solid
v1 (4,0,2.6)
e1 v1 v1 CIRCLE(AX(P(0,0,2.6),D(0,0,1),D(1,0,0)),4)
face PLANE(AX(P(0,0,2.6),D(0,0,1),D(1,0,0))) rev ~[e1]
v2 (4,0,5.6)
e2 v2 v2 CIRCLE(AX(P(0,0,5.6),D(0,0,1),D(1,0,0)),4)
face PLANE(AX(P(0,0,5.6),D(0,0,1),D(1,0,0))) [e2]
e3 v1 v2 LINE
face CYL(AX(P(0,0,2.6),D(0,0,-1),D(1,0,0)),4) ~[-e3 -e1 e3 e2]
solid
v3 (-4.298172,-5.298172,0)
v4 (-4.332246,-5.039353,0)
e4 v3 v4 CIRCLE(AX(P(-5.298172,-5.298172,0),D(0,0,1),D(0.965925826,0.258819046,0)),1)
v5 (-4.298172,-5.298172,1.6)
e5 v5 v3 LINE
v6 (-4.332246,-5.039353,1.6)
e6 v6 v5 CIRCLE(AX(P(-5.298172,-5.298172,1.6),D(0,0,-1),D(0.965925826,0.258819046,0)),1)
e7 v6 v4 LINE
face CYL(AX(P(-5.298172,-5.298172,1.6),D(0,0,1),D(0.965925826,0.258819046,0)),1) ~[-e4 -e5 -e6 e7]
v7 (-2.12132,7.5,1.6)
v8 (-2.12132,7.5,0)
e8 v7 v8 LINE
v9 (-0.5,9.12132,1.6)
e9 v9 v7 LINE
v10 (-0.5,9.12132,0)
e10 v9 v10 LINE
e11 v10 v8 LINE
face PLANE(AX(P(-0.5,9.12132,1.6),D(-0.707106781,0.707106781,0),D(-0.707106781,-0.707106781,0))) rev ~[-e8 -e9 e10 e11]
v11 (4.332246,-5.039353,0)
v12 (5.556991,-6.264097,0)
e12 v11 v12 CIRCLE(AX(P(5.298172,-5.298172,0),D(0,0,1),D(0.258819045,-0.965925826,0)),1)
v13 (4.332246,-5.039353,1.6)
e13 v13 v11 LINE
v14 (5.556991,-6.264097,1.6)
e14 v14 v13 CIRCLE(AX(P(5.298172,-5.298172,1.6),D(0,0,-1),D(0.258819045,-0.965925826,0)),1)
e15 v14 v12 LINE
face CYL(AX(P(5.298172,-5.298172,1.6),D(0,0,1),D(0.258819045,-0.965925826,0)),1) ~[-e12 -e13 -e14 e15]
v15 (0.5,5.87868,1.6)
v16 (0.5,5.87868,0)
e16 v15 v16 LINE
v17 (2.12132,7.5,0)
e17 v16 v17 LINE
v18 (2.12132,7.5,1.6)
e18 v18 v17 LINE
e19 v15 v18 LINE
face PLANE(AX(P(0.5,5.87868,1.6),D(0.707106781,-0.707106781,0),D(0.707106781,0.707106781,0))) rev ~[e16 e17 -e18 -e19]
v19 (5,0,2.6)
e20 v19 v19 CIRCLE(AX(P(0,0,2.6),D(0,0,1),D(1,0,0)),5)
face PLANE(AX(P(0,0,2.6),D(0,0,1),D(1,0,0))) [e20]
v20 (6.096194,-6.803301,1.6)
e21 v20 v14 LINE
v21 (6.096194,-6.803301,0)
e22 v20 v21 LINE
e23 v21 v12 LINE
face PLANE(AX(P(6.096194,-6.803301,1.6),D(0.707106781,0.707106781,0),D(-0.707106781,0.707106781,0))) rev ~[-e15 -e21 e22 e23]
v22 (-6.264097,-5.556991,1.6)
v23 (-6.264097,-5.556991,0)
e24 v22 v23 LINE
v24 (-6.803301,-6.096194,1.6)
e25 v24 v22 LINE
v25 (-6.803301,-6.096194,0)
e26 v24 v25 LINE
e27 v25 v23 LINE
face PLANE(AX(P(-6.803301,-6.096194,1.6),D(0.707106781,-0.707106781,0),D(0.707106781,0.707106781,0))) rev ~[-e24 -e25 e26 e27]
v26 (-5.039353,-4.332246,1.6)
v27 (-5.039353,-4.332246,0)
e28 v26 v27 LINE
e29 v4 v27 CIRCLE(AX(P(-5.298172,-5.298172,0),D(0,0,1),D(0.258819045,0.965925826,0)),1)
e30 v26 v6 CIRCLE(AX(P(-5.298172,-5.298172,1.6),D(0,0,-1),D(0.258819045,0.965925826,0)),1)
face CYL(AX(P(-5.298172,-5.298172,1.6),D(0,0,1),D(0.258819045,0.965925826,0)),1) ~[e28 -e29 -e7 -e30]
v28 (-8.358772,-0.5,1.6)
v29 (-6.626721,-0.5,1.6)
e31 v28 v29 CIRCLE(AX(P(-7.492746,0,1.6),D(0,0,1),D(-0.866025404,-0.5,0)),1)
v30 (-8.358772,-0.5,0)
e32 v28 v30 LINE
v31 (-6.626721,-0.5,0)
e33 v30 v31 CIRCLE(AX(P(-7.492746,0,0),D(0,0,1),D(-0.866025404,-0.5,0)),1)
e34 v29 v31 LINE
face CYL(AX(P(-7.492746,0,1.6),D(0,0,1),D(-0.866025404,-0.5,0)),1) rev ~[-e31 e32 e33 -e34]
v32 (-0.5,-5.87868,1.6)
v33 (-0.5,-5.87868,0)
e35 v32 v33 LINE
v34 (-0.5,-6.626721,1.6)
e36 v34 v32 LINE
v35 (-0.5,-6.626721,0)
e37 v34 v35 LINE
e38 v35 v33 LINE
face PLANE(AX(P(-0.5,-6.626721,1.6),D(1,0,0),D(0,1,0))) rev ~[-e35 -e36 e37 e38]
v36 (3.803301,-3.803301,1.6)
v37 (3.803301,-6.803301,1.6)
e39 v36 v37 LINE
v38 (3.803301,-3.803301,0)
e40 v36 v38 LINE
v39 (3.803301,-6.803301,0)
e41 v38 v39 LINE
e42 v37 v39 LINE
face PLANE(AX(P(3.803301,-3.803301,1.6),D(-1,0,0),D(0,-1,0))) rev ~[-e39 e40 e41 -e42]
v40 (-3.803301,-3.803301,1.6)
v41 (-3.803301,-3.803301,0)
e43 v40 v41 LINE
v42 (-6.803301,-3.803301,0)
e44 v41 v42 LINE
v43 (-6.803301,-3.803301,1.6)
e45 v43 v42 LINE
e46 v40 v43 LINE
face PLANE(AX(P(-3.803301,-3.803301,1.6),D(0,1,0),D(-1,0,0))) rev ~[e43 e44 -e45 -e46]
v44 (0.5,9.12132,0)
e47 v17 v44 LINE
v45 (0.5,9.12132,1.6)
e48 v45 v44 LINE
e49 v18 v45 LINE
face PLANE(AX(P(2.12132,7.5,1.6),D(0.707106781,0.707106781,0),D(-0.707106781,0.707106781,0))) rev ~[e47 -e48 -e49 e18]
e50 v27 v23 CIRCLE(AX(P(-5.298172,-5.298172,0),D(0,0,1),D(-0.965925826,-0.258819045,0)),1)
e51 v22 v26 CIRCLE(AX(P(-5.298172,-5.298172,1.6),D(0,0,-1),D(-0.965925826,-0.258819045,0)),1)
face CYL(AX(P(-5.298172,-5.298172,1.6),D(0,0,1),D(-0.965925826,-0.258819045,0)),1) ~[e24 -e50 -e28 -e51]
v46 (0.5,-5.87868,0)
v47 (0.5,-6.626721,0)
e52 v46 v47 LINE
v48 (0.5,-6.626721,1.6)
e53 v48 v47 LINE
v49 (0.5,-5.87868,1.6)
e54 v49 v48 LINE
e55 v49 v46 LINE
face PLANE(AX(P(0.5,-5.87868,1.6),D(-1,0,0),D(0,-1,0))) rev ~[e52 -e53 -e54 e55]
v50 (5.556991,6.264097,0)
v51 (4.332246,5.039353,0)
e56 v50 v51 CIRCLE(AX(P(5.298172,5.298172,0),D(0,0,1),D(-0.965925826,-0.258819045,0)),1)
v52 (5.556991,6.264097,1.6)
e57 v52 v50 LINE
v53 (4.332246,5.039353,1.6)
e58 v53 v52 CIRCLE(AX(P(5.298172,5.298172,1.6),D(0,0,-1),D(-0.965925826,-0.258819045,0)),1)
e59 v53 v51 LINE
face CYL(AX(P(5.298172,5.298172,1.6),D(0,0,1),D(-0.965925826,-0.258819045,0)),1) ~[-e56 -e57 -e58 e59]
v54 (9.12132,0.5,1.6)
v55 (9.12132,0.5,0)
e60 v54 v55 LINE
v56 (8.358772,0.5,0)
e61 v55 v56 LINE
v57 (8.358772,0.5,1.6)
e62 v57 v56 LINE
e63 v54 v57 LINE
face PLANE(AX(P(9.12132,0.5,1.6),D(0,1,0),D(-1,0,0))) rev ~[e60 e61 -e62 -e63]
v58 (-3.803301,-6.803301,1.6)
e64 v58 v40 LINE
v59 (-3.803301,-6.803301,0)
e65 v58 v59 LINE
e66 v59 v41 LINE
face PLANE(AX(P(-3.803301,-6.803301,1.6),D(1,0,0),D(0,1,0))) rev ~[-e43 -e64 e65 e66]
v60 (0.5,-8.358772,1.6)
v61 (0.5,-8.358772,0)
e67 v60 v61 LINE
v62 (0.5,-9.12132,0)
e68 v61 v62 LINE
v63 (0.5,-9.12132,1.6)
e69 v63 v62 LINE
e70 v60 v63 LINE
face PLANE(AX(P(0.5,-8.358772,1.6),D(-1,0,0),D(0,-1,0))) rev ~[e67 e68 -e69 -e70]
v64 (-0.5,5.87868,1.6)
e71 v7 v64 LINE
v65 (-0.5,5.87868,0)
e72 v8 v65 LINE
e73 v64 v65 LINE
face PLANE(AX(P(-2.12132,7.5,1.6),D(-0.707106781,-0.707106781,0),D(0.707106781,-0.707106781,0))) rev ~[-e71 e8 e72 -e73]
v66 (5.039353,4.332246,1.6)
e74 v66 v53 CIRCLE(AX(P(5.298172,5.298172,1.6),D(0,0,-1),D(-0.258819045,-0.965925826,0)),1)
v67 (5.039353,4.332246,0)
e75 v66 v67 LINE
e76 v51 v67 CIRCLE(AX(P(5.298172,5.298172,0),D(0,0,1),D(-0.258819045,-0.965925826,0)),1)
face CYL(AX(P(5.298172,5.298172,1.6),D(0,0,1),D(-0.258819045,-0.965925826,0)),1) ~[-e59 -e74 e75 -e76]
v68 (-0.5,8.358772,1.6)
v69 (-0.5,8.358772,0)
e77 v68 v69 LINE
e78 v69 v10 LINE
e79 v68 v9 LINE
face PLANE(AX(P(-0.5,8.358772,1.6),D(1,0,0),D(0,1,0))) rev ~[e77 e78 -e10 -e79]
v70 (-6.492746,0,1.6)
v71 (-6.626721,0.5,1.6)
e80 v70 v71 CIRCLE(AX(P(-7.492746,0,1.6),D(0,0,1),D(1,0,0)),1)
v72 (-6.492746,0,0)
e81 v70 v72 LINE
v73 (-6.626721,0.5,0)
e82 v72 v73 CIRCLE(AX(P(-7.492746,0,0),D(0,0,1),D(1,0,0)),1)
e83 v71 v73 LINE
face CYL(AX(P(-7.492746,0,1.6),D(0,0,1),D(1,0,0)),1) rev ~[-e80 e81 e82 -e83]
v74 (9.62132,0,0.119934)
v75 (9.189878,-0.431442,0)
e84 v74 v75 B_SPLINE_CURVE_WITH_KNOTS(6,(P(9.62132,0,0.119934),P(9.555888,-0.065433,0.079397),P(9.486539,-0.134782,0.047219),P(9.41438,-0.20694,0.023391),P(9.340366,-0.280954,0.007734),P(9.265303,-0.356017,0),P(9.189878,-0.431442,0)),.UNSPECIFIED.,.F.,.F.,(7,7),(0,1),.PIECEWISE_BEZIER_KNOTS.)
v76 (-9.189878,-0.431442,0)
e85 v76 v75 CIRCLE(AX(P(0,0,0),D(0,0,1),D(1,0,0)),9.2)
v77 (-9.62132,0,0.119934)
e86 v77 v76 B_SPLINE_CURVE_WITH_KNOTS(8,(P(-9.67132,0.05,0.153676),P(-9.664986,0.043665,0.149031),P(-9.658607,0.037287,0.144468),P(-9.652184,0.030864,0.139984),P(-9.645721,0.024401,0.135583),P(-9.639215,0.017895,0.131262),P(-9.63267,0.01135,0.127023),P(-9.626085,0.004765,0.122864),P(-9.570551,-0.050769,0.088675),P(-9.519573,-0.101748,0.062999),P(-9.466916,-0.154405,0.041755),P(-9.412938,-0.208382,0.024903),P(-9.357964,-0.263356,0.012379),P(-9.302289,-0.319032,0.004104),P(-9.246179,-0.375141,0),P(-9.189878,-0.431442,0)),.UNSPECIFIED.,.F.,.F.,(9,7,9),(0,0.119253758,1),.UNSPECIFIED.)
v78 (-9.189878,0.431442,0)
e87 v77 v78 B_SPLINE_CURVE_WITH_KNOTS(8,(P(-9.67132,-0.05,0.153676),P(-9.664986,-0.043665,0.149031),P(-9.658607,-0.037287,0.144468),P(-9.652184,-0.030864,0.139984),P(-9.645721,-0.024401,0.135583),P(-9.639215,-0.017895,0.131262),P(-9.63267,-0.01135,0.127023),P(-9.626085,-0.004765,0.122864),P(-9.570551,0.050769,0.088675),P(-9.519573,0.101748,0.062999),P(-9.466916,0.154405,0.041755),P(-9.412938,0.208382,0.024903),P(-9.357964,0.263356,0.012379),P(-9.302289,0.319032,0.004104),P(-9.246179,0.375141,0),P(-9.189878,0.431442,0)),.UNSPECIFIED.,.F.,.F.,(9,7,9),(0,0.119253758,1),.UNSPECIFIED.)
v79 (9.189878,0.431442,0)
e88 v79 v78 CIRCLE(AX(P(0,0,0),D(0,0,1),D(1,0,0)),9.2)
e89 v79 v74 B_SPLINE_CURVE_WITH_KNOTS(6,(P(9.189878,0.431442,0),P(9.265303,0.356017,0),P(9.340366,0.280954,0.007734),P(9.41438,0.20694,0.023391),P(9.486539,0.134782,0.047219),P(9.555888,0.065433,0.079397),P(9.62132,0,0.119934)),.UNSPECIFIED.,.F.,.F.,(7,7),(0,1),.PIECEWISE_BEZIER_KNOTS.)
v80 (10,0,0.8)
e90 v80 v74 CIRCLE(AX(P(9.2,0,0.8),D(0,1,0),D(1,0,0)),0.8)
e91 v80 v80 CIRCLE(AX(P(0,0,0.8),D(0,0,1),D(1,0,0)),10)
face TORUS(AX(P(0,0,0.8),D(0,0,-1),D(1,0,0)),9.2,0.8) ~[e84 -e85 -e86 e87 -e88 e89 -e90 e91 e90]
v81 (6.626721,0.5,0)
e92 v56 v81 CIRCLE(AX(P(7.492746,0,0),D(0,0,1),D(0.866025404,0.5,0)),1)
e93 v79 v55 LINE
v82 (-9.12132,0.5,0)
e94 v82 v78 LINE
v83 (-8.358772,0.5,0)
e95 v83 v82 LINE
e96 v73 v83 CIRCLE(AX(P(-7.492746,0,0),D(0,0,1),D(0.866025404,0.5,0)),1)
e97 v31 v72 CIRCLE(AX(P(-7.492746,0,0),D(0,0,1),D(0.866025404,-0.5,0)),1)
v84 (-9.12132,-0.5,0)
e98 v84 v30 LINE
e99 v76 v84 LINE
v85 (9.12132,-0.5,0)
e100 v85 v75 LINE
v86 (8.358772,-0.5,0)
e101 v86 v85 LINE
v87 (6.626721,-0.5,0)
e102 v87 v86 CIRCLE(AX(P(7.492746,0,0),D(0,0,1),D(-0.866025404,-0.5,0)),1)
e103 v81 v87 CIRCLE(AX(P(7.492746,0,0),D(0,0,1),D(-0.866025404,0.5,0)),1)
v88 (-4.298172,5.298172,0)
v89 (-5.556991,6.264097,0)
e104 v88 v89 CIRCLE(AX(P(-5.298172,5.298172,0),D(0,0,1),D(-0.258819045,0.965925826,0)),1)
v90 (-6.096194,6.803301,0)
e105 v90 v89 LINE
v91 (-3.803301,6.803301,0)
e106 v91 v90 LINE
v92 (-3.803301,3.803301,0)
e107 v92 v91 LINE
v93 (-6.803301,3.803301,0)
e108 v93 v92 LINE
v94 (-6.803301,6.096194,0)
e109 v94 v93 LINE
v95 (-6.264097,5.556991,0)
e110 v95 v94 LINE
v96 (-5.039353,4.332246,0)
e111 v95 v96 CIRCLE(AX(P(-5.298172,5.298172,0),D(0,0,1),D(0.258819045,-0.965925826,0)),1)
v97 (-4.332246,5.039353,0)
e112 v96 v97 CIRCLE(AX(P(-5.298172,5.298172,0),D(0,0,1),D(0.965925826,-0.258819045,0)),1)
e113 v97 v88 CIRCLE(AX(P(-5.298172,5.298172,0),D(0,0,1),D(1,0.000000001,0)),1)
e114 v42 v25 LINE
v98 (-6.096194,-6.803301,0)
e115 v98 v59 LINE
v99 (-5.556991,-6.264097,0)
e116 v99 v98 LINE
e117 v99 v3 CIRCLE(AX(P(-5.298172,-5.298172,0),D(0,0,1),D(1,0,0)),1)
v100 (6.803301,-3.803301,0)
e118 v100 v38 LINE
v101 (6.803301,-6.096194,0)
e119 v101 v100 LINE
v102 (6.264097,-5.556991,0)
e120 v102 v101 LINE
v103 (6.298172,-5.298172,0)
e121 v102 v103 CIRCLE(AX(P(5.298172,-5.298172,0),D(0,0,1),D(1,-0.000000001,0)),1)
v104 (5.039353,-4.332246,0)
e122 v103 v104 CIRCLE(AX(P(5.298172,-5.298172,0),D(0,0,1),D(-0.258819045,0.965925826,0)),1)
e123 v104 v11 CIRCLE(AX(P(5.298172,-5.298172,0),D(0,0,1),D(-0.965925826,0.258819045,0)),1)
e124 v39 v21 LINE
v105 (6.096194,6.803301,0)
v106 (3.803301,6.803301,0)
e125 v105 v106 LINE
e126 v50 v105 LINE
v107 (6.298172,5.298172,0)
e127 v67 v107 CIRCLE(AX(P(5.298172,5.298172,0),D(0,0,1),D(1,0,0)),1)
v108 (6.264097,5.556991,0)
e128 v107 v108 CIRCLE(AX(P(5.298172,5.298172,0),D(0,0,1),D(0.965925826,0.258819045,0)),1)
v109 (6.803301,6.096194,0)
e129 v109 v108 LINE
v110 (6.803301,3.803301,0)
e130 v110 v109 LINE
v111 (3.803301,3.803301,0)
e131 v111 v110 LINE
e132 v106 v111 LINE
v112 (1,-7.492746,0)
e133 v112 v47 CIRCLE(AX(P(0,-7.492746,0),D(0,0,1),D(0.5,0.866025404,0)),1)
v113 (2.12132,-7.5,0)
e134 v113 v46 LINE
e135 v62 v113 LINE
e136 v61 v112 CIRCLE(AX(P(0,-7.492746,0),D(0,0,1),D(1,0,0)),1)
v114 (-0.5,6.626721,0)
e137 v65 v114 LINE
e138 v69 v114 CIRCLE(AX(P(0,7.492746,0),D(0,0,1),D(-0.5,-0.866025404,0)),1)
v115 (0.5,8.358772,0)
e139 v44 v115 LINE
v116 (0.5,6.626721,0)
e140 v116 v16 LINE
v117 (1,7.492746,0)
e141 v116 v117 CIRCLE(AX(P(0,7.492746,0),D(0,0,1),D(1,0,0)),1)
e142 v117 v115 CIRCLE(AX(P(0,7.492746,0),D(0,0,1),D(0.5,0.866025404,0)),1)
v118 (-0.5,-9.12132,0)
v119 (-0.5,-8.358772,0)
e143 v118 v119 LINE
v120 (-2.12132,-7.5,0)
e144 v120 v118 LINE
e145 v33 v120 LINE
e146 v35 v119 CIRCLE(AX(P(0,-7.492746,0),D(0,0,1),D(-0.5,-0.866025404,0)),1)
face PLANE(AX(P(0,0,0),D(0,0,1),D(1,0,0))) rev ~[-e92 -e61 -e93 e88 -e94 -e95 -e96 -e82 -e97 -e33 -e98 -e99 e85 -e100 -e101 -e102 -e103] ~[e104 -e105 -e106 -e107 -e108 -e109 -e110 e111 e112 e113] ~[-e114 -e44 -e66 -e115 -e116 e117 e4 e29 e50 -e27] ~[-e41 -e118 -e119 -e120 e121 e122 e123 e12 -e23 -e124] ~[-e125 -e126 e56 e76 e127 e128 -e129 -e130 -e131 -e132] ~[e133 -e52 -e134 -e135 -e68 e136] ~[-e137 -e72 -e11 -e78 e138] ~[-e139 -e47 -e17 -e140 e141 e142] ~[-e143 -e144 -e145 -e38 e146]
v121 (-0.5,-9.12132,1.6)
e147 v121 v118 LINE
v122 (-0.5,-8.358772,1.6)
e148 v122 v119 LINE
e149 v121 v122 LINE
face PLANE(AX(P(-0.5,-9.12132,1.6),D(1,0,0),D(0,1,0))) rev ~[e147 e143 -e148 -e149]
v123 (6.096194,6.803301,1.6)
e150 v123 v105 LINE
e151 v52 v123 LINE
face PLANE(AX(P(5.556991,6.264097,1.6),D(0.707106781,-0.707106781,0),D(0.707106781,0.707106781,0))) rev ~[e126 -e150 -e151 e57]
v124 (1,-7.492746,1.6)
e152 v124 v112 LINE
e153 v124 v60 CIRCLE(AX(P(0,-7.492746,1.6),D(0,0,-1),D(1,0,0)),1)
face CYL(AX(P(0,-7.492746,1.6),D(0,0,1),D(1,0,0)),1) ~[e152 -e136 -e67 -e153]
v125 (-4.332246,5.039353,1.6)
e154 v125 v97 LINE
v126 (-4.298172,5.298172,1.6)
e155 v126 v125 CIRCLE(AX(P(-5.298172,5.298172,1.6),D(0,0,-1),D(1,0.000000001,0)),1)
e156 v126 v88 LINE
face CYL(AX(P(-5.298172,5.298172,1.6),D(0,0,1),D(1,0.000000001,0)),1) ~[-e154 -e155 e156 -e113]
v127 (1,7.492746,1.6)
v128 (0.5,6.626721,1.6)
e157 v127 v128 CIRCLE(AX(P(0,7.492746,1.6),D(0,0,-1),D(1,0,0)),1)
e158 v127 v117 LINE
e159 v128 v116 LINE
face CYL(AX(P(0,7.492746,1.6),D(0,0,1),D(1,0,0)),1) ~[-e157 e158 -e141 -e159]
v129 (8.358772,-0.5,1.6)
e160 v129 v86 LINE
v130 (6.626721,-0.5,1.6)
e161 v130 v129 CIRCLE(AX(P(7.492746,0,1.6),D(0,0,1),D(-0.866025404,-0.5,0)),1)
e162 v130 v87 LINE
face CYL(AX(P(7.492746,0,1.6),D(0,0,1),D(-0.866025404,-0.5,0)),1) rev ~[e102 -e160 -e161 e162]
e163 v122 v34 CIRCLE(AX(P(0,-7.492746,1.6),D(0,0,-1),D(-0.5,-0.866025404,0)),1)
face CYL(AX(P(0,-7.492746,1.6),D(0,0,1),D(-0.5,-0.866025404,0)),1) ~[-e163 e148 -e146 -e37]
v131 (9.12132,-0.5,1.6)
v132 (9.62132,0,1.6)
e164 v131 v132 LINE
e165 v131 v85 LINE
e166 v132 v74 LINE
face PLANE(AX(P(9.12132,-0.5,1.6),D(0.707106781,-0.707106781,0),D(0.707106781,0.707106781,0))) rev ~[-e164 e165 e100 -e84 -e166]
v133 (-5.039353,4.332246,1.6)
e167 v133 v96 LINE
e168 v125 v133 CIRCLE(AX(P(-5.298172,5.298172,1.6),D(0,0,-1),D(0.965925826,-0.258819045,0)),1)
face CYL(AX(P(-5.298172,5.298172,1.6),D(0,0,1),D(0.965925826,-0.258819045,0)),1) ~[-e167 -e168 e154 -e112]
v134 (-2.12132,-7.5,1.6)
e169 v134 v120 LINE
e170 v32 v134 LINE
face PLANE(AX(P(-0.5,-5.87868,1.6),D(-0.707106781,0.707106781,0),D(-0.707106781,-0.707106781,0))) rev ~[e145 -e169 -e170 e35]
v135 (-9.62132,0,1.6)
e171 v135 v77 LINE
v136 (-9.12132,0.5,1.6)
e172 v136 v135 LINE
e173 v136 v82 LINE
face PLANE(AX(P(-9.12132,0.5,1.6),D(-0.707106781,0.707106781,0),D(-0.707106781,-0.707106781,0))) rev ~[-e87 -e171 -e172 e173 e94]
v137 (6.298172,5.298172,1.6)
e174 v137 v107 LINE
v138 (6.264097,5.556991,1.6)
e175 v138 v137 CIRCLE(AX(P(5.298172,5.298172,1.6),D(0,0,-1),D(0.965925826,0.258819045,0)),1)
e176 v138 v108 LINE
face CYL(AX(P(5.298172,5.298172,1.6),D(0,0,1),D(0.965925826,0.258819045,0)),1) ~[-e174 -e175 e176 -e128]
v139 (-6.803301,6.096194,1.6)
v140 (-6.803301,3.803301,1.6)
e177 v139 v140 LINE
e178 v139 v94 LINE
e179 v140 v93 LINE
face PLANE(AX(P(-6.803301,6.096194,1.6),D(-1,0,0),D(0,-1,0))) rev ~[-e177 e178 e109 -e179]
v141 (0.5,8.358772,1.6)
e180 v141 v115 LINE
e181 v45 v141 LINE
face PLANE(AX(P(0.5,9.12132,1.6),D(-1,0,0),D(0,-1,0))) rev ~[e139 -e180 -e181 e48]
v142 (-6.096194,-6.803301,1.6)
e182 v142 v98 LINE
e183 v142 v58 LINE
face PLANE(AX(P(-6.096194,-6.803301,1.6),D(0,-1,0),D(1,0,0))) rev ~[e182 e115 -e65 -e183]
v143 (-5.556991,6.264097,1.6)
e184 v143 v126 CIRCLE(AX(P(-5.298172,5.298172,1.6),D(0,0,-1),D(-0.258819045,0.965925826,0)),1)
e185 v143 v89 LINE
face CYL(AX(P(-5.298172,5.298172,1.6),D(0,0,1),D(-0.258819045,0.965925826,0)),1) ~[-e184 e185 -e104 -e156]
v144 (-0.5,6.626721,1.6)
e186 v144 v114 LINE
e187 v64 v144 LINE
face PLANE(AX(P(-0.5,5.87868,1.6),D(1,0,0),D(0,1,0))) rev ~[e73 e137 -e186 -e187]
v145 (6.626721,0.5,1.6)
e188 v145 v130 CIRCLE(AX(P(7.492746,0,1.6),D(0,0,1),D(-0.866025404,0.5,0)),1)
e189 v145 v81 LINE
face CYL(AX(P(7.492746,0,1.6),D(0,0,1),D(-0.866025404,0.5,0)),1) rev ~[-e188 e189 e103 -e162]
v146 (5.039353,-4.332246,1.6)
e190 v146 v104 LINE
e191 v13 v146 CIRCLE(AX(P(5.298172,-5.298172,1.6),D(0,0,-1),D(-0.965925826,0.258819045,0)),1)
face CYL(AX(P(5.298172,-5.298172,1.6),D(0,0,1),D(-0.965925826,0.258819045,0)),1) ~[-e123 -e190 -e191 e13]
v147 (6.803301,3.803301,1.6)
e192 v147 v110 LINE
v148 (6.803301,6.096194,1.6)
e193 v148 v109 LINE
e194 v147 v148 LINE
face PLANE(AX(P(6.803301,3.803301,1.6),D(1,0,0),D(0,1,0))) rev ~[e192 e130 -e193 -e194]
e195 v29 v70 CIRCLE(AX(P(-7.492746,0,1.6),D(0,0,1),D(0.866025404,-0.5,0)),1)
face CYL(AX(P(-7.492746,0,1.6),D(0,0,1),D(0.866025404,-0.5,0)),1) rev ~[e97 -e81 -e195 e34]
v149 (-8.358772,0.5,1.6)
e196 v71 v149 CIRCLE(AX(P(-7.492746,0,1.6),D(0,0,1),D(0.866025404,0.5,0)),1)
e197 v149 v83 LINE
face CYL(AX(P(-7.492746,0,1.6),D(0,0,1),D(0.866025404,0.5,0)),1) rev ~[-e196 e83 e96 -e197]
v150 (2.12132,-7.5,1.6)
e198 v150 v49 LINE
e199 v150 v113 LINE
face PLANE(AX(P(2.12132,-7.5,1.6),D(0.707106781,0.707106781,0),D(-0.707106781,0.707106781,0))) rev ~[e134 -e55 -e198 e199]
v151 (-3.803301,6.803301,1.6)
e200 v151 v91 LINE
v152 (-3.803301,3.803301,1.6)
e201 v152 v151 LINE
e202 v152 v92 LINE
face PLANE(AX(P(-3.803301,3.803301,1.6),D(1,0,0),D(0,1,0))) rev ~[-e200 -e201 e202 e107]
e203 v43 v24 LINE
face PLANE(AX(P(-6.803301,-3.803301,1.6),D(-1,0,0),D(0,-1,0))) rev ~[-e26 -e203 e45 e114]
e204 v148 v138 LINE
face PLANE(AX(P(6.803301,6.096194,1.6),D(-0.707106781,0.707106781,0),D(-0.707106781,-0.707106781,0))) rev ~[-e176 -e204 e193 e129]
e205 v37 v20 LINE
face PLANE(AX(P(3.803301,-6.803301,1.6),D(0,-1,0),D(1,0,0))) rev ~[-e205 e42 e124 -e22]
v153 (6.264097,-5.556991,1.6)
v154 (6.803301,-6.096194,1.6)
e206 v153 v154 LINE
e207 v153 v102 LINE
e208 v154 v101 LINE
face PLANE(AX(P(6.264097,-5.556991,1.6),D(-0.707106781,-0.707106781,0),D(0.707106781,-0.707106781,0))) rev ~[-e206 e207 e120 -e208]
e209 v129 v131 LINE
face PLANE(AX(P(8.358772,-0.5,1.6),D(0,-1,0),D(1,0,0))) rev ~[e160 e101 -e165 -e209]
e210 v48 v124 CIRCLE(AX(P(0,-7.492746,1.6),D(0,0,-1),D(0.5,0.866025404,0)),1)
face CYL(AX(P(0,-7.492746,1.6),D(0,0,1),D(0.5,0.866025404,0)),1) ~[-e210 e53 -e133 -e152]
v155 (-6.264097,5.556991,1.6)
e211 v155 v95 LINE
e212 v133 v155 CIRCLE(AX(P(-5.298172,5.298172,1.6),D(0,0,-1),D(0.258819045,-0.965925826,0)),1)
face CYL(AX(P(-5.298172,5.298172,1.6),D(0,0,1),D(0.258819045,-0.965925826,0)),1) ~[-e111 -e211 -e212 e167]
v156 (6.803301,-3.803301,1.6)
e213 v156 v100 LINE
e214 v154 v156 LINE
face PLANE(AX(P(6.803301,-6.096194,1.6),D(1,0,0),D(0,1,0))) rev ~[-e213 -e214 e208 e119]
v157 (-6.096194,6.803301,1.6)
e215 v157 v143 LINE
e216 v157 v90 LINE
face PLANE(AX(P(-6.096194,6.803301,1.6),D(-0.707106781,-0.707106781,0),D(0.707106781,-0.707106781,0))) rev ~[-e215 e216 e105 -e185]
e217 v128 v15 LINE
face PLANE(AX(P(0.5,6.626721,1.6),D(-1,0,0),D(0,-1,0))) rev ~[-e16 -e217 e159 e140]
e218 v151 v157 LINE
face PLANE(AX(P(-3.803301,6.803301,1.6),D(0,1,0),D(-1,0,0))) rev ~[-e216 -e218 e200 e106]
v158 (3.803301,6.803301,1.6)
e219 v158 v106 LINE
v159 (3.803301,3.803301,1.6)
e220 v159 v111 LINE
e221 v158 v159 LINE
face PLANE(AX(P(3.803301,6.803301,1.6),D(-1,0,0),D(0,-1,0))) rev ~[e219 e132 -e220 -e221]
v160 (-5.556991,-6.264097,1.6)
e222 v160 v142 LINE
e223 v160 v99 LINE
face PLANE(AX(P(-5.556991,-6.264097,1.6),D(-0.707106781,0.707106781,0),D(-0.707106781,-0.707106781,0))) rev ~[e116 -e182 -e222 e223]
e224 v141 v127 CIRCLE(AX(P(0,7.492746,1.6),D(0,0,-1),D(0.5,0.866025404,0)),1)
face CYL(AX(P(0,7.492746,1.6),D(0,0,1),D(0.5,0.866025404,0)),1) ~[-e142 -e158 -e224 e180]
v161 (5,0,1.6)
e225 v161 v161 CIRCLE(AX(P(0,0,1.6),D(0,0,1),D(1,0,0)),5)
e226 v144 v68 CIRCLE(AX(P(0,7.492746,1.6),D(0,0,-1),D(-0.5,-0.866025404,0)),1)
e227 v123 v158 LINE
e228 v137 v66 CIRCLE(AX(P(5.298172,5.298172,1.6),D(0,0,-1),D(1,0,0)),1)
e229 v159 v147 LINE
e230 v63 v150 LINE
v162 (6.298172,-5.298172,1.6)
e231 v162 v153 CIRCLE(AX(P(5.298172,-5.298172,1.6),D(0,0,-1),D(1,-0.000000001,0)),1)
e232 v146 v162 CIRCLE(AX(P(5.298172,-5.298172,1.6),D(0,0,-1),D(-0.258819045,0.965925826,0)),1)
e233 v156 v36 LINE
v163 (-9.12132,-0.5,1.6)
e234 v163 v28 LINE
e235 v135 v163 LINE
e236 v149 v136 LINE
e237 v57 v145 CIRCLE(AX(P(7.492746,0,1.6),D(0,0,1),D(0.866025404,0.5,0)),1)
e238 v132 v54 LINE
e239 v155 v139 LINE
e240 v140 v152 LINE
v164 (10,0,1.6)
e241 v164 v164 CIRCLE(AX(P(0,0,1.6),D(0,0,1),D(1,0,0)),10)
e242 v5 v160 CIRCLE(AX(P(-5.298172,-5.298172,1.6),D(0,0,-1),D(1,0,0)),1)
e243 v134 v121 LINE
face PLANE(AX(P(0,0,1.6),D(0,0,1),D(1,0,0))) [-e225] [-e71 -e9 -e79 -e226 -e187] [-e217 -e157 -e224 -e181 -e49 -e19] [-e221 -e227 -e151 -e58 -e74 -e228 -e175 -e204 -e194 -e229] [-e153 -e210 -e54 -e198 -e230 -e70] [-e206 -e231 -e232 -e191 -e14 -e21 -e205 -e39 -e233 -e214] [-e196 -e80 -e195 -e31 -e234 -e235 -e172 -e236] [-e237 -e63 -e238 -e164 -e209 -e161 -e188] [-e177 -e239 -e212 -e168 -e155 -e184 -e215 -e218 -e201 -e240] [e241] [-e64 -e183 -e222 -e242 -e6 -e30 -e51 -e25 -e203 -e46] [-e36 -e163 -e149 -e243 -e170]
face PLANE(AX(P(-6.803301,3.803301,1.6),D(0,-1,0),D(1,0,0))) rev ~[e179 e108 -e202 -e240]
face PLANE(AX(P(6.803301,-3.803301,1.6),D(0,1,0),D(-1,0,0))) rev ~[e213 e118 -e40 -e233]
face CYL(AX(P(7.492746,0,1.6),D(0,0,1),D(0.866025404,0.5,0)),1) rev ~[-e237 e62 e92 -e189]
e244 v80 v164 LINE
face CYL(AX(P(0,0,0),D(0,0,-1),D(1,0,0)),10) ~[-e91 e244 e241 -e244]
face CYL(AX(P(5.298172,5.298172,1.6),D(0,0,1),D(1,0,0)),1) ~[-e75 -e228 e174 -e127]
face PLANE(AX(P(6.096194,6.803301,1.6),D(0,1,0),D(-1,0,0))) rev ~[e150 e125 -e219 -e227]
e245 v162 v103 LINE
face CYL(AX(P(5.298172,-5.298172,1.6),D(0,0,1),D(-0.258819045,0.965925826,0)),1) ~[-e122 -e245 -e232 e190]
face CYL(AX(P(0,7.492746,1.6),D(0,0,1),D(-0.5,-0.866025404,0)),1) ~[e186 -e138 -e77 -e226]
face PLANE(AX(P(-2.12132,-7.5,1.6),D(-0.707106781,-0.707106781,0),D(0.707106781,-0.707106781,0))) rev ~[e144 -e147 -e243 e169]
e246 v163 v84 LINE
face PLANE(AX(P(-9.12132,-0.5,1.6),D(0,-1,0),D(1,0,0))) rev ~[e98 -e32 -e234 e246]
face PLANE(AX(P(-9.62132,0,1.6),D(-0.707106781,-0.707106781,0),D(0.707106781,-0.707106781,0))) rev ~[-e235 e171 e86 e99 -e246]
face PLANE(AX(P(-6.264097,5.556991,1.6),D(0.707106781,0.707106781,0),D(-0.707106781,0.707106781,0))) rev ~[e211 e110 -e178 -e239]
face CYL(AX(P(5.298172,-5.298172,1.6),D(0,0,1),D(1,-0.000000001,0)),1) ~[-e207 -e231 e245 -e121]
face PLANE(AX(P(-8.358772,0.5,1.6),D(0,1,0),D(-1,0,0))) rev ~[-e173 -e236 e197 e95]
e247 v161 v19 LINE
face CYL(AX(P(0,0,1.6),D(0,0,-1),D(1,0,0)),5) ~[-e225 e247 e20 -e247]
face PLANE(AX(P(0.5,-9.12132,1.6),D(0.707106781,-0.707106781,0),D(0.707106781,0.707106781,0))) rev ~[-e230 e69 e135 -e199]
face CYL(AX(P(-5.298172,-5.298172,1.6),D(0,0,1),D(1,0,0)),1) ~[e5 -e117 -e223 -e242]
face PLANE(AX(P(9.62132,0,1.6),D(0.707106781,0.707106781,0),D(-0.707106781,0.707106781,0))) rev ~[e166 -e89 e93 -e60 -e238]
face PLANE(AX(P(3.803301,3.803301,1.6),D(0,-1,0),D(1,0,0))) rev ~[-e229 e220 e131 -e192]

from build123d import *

# Parameters (mm, degrees)
F0_R     = 10
F1_DEPTH = 1.6
F2_R     = 5
F3_DEPTH = 1
F4_R     = 4
F5_DEPTH = 3
F7_R     = 0.8
F8_DEPTH = 25


with BuildPart() as f1:
    # F0 (on Top) → F1 (new body)
    with BuildSketch(Plane.XY):
        Circle(F0_R)
    extrude(amount=F1_DEPTH)

    # F2 (on face) → F3 (join)
    with BuildSketch(Plane.XY.offset(1.6)):
        Circle(F2_R)
    extrude(amount=F3_DEPTH)

    # F7
    f7_edges = [f1.edges().sort_by_distance(p)[0] for p in [
        (-10, 0, 0),
    ]]
    fillet(f7_edges, radius=F7_R)

    # F6 (on face) → F8 (cut)
    with BuildSketch(Plane.XY.offset(1.6)):
        with BuildLine():
            Line((-2.1213203436, 7.5), (-0.5, 5.8786796564))
            Line((-0.5, 5.8786796564), (-0.5, 6.6267208227))
            ThreePointArc((-0.5, 6.6267208227), (-1, 7.4927462265), (-0.5, 8.3587716303))
            Line((-0.5, 8.3587716303), (-0.5, 9.1213203436))
            Line((-0.5, 9.1213203436), (-2.1213203436, 7.5))
        make_face()
        with BuildLine():
            Line((0.5, 6.6267208227), (0.5, 5.8786796564))
            Line((0.5, 5.8786796564), (2.1213203436, 7.5))
            Line((2.1213203436, 7.5), (0.5, 9.1213203436))
            Line((0.5, 9.1213203436), (0.5, 8.3587716303))
            ThreePointArc((0.5, 8.3587716303), (0.8660254038, 7.9927462265), (1, 7.4927462265))
            ThreePointArc((1, 7.4927462265), (0.8660254038, 6.9927462265), (0.5, 6.6267208227))
        make_face()
        with BuildLine():
            Line((6.0961940777, 6.8033008589), (3.8033008589, 6.8033008589))
            Line((3.8033008589, 6.8033008589), (3.8033008589, 4.5104076401))
            Line((3.8033008589, 4.5104076401), (4.3322458402, 5.0393526214))
            ThreePointArc((4.3322458402, 5.0393526214), (4.5910648853, 6.0052784476), (5.5569907116, 6.2640974927))
            Line((5.5569907116, 6.2640974927), (6.0961940777, 6.8033008589))
        make_face()
        with BuildLine():
            Line((6.8033008589, 3.8033008589), (6.8033008589, 6.0961940777))
            Line((6.8033008589, 6.0961940777), (6.2640974927, 5.5569907116))
            ThreePointArc((6.2640974927, 5.5569907116), (6.2896165278, 5.4286978587), (6.2981716665, 5.2981716665))
            ThreePointArc((6.2981716665, 5.2981716665), (5.9069330955, 4.5048183262), (5.0393526214, 4.3322458402))
            Line((5.0393526214, 4.3322458402), (4.5104076401, 3.8033008589))
            Line((4.5104076401, 3.8033008589), (6.8033008589, 3.8033008589))
        make_face()
        with BuildLine():
            ThreePointArc((8.4927462265, 0), (8.4586720528, 0.2588190451), (8.3587716303, 0.5))
            Line((8.3587716303, 0.5), (6.6267208227, 0.5))
            ThreePointArc((6.6267208227, 0.5), (6.4927462265, 0), (6.6267208227, -0.5))
            Line((6.6267208227, -0.5), (8.3587716303, -0.5))
            ThreePointArc((8.3587716303, -0.5), (8.4586720528, -0.2588190451), (8.4927462265, 0))
        make_face()
        with BuildLine():
            Line((9.6213203436, 0), (9.1213203436, 0.5))
            Line((9.1213203436, 0.5), (8.3587716303, 0.5))
            ThreePointArc((8.3587716303, 0.5), (8.4586720528, 0.2588190451), (8.4927462265, 0))
            ThreePointArc((8.4927462265, 0), (8.4586720528, -0.2588190451), (8.3587716303, -0.5))
            Line((8.3587716303, -0.5), (9.1213203436, -0.5))
            Line((9.1213203436, -0.5), (9.6213203436, 0))
        make_face()
        with BuildLine():
            Line((6.6267208227, 0.5), (8.3587716303, 0.5))
            ThreePointArc((8.3587716303, 0.5), (7.4927462265, 1), (6.6267208227, 0.5))
        make_face()
        with BuildLine():
            Line((8.3587716303, -0.5), (6.6267208227, -0.5))
            ThreePointArc((6.6267208227, -0.5), (7.4927462265, -1), (8.3587716303, -0.5))
        make_face()
        with BuildLine():
            Line((-9.6213203436, 0), (-9.1213203436, -0.5))
            Line((-9.1213203436, -0.5), (-8.3587716303, -0.5))
            ThreePointArc((-8.3587716303, -0.5), (-8.4927462265, 0), (-8.3587716303, 0.5))
            Line((-8.3587716303, 0.5), (-9.1213203436, 0.5))
            Line((-9.1213203436, 0.5), (-9.6213203436, 0))
        make_face()
        with BuildLine():
            ThreePointArc((-6.6267208227, 0.5), (-7.4927462265, 1), (-8.3587716303, 0.5))
            Line((-8.3587716303, 0.5), (-6.6267208227, 0.5))
        make_face()
        with BuildLine():
            ThreePointArc((-8.3587716303, 0.5), (-8.4927462265, 0), (-8.3587716303, -0.5))
            Line((-8.3587716303, -0.5), (-6.6267208227, -0.5))
            ThreePointArc((-6.6267208227, -0.5), (-6.5268204002, -0.2588190451), (-6.4927462265, 0))
            ThreePointArc((-6.4927462265, 0), (-6.5268204002, 0.2588190451), (-6.6267208227, 0.5))
            Line((-6.6267208227, 0.5), (-8.3587716303, 0.5))
        make_face()
        with BuildLine():
            Line((-6.6267208227, -0.5), (-8.3587716303, -0.5))
            ThreePointArc((-8.3587716303, -0.5), (-7.4927462265, -1), (-6.6267208227, -0.5))
        make_face()
        with BuildLine():
            Line((-2.1213203436, -7.5), (-0.5, -9.1213203436))
            Line((-0.5, -9.1213203436), (-0.5, -8.3587716303))
            ThreePointArc((-0.5, -8.3587716303), (-1, -7.4927462265), (-0.5, -6.6267208227))
            Line((-0.5, -6.6267208227), (-0.5, -5.8786796564))
            Line((-0.5, -5.8786796564), (-2.1213203436, -7.5))
        make_face()
        with BuildLine():
            Line((0.5, -9.1213203436), (2.1213203436, -7.5))
            Line((2.1213203436, -7.5), (0.5, -5.8786796564))
            Line((0.5, -5.8786796564), (0.5, -6.6267208227))
            ThreePointArc((0.5, -6.6267208227), (0.8660254038, -6.9927462265), (1, -7.4927462265))
            ThreePointArc((1, -7.4927462265), (0.8660254038, -7.9927462265), (0.5, -8.3587716303))
            Line((0.5, -8.3587716303), (0.5, -9.1213203436))
        make_face()
        with BuildLine():
            Line((6.8033008589, -6.0961940777), (6.8033008589, -3.8033008589))
            Line((6.8033008589, -3.8033008589), (4.5104076401, -3.8033008589))
            Line((4.5104076401, -3.8033008589), (5.0393526214, -4.3322458402))
            ThreePointArc((5.0393526214, -4.3322458402), (5.9069330955, -4.5048183262), (6.2981716665, -5.2981716665))
            ThreePointArc((6.2981716665, -5.2981716665), (6.2896165278, -5.4286978587), (6.2640974927, -5.5569907116))
            Line((6.2640974927, -5.5569907116), (6.8033008589, -6.0961940777))
        make_face()
        with BuildLine():
            Line((5.0393526214, -4.3322458402), (4.5104076401, -3.8033008589))
            Line((4.5104076401, -3.8033008589), (3.8033008589, -3.8033008589))
            Line((3.8033008589, -3.8033008589), (3.8033008589, -4.5104076401))
            Line((3.8033008589, -4.5104076401), (4.3322458402, -5.0393526214))
            ThreePointArc((4.3322458402, -5.0393526214), (4.5910648853, -4.5910648853), (5.0393526214, -4.3322458402))
        make_face()
        with BuildLine():
            Line((3.8033008589, -6.8033008589), (6.0961940777, -6.8033008589))
            Line((6.0961940777, -6.8033008589), (5.5569907116, -6.2640974927))
            ThreePointArc((5.5569907116, -6.2640974927), (4.5910648853, -6.0052784476), (4.3322458402, -5.0393526214))
            Line((4.3322458402, -5.0393526214), (3.8033008589, -4.5104076401))
            Line((3.8033008589, -4.5104076401), (3.8033008589, -6.8033008589))
        make_face()
        with BuildLine():
            Line((-6.8033008589, -3.8033008589), (-6.8033008589, -6.0961940777))
            Line((-6.8033008589, -6.0961940777), (-6.2640974927, -5.5569907116))
            ThreePointArc((-6.2640974927, -5.5569907116), (-6.0052784476, -4.5910648853), (-5.0393526214, -4.3322458402))
            Line((-5.0393526214, -4.3322458402), (-4.5104076401, -3.8033008589))
            Line((-4.5104076401, -3.8033008589), (-6.8033008589, -3.8033008589))
        make_face()
        with BuildLine():
            Line((-4.3322458402, -5.0393526214), (-3.8033008589, -4.5104076401))
            Line((-3.8033008589, -4.5104076401), (-3.8033008589, -3.8033008589))
            Line((-3.8033008589, -3.8033008589), (-4.5104076401, -3.8033008589))
            Line((-4.5104076401, -3.8033008589), (-5.0393526214, -4.3322458402))
            ThreePointArc((-5.0393526214, -4.3322458402), (-4.5910648853, -4.5910648853), (-4.3322458402, -5.0393526214))
        make_face()
        with BuildLine():
            Line((-6.0961940777, -6.8033008589), (-3.8033008589, -6.8033008589))
            Line((-3.8033008589, -6.8033008589), (-3.8033008589, -4.5104076401))
            Line((-3.8033008589, -4.5104076401), (-4.3322458402, -5.0393526214))
            ThreePointArc((-4.3322458402, -5.0393526214), (-4.3067268051, -5.1676454742), (-4.2981716665, -5.2981716665))
            ThreePointArc((-4.2981716665, -5.2981716665), (-4.6894102375, -6.0915250068), (-5.5569907116, -6.2640974927))
            Line((-5.5569907116, -6.2640974927), (-6.0961940777, -6.8033008589))
        make_face()
        with BuildLine():
            Line((4.3322458402, 5.0393526214), (3.8033008589, 4.5104076401))
            Line((3.8033008589, 4.5104076401), (3.8033008589, 3.8033008589))
            Line((3.8033008589, 3.8033008589), (4.5104076401, 3.8033008589))
            Line((4.5104076401, 3.8033008589), (5.0393526214, 4.3322458402))
            ThreePointArc((5.0393526214, 4.3322458402), (4.5910648853, 4.5910648853), (4.3322458402, 5.0393526214))
        make_face()
        with BuildLine():
            Line((-6.8033008589, 6.0961940777), (-6.8033008589, 3.8033008589))
            Line((-6.8033008589, 3.8033008589), (-4.5104076401, 3.8033008589))
            Line((-4.5104076401, 3.8033008589), (-5.0393526214, 4.3322458402))
            ThreePointArc((-5.0393526214, 4.3322458402), (-6.0052784476, 4.5910648853), (-6.2640974927, 5.5569907116))
            Line((-6.2640974927, 5.5569907116), (-6.8033008589, 6.0961940777))
        make_face()
        with BuildLine():
            Line((-5.0393526214, 4.3322458402), (-4.5104076401, 3.8033008589))
            Line((-4.5104076401, 3.8033008589), (-3.8033008589, 3.8033008589))
            Line((-3.8033008589, 3.8033008589), (-3.8033008589, 4.5104076401))
            Line((-3.8033008589, 4.5104076401), (-4.3322458402, 5.0393526214))
            ThreePointArc((-4.3322458402, 5.0393526214), (-4.5910648853, 4.5910648853), (-5.0393526214, 4.3322458402))
        make_face()
        with BuildLine():
            Line((-3.8033008589, 6.8033008589), (-6.0961940777, 6.8033008589))
            Line((-6.0961940777, 6.8033008589), (-5.5569907116, 6.2640974927))
            ThreePointArc((-5.5569907116, 6.2640974927), (-4.6894102375, 6.0915250068), (-4.2981716665, 5.2981716665))
            ThreePointArc((-4.2981716665, 5.2981716665), (-4.3067268051, 5.1676454742), (-4.3322458402, 5.0393526214))
            Line((-4.3322458402, 5.0393526214), (-3.8033008589, 4.5104076401))
            Line((-3.8033008589, 4.5104076401), (-3.8033008589, 6.8033008589))
        make_face()
    extrude(amount=-F8_DEPTH, mode=Mode.SUBTRACT)


with BuildPart() as f5:
    # F4 (on face) → F5 (new body)
    with BuildSketch(Plane.XY.offset(2.6)):
        Circle(F4_R)
    extrude(amount=F5_DEPTH)


solid = Compound([f1.part, f5.part])
